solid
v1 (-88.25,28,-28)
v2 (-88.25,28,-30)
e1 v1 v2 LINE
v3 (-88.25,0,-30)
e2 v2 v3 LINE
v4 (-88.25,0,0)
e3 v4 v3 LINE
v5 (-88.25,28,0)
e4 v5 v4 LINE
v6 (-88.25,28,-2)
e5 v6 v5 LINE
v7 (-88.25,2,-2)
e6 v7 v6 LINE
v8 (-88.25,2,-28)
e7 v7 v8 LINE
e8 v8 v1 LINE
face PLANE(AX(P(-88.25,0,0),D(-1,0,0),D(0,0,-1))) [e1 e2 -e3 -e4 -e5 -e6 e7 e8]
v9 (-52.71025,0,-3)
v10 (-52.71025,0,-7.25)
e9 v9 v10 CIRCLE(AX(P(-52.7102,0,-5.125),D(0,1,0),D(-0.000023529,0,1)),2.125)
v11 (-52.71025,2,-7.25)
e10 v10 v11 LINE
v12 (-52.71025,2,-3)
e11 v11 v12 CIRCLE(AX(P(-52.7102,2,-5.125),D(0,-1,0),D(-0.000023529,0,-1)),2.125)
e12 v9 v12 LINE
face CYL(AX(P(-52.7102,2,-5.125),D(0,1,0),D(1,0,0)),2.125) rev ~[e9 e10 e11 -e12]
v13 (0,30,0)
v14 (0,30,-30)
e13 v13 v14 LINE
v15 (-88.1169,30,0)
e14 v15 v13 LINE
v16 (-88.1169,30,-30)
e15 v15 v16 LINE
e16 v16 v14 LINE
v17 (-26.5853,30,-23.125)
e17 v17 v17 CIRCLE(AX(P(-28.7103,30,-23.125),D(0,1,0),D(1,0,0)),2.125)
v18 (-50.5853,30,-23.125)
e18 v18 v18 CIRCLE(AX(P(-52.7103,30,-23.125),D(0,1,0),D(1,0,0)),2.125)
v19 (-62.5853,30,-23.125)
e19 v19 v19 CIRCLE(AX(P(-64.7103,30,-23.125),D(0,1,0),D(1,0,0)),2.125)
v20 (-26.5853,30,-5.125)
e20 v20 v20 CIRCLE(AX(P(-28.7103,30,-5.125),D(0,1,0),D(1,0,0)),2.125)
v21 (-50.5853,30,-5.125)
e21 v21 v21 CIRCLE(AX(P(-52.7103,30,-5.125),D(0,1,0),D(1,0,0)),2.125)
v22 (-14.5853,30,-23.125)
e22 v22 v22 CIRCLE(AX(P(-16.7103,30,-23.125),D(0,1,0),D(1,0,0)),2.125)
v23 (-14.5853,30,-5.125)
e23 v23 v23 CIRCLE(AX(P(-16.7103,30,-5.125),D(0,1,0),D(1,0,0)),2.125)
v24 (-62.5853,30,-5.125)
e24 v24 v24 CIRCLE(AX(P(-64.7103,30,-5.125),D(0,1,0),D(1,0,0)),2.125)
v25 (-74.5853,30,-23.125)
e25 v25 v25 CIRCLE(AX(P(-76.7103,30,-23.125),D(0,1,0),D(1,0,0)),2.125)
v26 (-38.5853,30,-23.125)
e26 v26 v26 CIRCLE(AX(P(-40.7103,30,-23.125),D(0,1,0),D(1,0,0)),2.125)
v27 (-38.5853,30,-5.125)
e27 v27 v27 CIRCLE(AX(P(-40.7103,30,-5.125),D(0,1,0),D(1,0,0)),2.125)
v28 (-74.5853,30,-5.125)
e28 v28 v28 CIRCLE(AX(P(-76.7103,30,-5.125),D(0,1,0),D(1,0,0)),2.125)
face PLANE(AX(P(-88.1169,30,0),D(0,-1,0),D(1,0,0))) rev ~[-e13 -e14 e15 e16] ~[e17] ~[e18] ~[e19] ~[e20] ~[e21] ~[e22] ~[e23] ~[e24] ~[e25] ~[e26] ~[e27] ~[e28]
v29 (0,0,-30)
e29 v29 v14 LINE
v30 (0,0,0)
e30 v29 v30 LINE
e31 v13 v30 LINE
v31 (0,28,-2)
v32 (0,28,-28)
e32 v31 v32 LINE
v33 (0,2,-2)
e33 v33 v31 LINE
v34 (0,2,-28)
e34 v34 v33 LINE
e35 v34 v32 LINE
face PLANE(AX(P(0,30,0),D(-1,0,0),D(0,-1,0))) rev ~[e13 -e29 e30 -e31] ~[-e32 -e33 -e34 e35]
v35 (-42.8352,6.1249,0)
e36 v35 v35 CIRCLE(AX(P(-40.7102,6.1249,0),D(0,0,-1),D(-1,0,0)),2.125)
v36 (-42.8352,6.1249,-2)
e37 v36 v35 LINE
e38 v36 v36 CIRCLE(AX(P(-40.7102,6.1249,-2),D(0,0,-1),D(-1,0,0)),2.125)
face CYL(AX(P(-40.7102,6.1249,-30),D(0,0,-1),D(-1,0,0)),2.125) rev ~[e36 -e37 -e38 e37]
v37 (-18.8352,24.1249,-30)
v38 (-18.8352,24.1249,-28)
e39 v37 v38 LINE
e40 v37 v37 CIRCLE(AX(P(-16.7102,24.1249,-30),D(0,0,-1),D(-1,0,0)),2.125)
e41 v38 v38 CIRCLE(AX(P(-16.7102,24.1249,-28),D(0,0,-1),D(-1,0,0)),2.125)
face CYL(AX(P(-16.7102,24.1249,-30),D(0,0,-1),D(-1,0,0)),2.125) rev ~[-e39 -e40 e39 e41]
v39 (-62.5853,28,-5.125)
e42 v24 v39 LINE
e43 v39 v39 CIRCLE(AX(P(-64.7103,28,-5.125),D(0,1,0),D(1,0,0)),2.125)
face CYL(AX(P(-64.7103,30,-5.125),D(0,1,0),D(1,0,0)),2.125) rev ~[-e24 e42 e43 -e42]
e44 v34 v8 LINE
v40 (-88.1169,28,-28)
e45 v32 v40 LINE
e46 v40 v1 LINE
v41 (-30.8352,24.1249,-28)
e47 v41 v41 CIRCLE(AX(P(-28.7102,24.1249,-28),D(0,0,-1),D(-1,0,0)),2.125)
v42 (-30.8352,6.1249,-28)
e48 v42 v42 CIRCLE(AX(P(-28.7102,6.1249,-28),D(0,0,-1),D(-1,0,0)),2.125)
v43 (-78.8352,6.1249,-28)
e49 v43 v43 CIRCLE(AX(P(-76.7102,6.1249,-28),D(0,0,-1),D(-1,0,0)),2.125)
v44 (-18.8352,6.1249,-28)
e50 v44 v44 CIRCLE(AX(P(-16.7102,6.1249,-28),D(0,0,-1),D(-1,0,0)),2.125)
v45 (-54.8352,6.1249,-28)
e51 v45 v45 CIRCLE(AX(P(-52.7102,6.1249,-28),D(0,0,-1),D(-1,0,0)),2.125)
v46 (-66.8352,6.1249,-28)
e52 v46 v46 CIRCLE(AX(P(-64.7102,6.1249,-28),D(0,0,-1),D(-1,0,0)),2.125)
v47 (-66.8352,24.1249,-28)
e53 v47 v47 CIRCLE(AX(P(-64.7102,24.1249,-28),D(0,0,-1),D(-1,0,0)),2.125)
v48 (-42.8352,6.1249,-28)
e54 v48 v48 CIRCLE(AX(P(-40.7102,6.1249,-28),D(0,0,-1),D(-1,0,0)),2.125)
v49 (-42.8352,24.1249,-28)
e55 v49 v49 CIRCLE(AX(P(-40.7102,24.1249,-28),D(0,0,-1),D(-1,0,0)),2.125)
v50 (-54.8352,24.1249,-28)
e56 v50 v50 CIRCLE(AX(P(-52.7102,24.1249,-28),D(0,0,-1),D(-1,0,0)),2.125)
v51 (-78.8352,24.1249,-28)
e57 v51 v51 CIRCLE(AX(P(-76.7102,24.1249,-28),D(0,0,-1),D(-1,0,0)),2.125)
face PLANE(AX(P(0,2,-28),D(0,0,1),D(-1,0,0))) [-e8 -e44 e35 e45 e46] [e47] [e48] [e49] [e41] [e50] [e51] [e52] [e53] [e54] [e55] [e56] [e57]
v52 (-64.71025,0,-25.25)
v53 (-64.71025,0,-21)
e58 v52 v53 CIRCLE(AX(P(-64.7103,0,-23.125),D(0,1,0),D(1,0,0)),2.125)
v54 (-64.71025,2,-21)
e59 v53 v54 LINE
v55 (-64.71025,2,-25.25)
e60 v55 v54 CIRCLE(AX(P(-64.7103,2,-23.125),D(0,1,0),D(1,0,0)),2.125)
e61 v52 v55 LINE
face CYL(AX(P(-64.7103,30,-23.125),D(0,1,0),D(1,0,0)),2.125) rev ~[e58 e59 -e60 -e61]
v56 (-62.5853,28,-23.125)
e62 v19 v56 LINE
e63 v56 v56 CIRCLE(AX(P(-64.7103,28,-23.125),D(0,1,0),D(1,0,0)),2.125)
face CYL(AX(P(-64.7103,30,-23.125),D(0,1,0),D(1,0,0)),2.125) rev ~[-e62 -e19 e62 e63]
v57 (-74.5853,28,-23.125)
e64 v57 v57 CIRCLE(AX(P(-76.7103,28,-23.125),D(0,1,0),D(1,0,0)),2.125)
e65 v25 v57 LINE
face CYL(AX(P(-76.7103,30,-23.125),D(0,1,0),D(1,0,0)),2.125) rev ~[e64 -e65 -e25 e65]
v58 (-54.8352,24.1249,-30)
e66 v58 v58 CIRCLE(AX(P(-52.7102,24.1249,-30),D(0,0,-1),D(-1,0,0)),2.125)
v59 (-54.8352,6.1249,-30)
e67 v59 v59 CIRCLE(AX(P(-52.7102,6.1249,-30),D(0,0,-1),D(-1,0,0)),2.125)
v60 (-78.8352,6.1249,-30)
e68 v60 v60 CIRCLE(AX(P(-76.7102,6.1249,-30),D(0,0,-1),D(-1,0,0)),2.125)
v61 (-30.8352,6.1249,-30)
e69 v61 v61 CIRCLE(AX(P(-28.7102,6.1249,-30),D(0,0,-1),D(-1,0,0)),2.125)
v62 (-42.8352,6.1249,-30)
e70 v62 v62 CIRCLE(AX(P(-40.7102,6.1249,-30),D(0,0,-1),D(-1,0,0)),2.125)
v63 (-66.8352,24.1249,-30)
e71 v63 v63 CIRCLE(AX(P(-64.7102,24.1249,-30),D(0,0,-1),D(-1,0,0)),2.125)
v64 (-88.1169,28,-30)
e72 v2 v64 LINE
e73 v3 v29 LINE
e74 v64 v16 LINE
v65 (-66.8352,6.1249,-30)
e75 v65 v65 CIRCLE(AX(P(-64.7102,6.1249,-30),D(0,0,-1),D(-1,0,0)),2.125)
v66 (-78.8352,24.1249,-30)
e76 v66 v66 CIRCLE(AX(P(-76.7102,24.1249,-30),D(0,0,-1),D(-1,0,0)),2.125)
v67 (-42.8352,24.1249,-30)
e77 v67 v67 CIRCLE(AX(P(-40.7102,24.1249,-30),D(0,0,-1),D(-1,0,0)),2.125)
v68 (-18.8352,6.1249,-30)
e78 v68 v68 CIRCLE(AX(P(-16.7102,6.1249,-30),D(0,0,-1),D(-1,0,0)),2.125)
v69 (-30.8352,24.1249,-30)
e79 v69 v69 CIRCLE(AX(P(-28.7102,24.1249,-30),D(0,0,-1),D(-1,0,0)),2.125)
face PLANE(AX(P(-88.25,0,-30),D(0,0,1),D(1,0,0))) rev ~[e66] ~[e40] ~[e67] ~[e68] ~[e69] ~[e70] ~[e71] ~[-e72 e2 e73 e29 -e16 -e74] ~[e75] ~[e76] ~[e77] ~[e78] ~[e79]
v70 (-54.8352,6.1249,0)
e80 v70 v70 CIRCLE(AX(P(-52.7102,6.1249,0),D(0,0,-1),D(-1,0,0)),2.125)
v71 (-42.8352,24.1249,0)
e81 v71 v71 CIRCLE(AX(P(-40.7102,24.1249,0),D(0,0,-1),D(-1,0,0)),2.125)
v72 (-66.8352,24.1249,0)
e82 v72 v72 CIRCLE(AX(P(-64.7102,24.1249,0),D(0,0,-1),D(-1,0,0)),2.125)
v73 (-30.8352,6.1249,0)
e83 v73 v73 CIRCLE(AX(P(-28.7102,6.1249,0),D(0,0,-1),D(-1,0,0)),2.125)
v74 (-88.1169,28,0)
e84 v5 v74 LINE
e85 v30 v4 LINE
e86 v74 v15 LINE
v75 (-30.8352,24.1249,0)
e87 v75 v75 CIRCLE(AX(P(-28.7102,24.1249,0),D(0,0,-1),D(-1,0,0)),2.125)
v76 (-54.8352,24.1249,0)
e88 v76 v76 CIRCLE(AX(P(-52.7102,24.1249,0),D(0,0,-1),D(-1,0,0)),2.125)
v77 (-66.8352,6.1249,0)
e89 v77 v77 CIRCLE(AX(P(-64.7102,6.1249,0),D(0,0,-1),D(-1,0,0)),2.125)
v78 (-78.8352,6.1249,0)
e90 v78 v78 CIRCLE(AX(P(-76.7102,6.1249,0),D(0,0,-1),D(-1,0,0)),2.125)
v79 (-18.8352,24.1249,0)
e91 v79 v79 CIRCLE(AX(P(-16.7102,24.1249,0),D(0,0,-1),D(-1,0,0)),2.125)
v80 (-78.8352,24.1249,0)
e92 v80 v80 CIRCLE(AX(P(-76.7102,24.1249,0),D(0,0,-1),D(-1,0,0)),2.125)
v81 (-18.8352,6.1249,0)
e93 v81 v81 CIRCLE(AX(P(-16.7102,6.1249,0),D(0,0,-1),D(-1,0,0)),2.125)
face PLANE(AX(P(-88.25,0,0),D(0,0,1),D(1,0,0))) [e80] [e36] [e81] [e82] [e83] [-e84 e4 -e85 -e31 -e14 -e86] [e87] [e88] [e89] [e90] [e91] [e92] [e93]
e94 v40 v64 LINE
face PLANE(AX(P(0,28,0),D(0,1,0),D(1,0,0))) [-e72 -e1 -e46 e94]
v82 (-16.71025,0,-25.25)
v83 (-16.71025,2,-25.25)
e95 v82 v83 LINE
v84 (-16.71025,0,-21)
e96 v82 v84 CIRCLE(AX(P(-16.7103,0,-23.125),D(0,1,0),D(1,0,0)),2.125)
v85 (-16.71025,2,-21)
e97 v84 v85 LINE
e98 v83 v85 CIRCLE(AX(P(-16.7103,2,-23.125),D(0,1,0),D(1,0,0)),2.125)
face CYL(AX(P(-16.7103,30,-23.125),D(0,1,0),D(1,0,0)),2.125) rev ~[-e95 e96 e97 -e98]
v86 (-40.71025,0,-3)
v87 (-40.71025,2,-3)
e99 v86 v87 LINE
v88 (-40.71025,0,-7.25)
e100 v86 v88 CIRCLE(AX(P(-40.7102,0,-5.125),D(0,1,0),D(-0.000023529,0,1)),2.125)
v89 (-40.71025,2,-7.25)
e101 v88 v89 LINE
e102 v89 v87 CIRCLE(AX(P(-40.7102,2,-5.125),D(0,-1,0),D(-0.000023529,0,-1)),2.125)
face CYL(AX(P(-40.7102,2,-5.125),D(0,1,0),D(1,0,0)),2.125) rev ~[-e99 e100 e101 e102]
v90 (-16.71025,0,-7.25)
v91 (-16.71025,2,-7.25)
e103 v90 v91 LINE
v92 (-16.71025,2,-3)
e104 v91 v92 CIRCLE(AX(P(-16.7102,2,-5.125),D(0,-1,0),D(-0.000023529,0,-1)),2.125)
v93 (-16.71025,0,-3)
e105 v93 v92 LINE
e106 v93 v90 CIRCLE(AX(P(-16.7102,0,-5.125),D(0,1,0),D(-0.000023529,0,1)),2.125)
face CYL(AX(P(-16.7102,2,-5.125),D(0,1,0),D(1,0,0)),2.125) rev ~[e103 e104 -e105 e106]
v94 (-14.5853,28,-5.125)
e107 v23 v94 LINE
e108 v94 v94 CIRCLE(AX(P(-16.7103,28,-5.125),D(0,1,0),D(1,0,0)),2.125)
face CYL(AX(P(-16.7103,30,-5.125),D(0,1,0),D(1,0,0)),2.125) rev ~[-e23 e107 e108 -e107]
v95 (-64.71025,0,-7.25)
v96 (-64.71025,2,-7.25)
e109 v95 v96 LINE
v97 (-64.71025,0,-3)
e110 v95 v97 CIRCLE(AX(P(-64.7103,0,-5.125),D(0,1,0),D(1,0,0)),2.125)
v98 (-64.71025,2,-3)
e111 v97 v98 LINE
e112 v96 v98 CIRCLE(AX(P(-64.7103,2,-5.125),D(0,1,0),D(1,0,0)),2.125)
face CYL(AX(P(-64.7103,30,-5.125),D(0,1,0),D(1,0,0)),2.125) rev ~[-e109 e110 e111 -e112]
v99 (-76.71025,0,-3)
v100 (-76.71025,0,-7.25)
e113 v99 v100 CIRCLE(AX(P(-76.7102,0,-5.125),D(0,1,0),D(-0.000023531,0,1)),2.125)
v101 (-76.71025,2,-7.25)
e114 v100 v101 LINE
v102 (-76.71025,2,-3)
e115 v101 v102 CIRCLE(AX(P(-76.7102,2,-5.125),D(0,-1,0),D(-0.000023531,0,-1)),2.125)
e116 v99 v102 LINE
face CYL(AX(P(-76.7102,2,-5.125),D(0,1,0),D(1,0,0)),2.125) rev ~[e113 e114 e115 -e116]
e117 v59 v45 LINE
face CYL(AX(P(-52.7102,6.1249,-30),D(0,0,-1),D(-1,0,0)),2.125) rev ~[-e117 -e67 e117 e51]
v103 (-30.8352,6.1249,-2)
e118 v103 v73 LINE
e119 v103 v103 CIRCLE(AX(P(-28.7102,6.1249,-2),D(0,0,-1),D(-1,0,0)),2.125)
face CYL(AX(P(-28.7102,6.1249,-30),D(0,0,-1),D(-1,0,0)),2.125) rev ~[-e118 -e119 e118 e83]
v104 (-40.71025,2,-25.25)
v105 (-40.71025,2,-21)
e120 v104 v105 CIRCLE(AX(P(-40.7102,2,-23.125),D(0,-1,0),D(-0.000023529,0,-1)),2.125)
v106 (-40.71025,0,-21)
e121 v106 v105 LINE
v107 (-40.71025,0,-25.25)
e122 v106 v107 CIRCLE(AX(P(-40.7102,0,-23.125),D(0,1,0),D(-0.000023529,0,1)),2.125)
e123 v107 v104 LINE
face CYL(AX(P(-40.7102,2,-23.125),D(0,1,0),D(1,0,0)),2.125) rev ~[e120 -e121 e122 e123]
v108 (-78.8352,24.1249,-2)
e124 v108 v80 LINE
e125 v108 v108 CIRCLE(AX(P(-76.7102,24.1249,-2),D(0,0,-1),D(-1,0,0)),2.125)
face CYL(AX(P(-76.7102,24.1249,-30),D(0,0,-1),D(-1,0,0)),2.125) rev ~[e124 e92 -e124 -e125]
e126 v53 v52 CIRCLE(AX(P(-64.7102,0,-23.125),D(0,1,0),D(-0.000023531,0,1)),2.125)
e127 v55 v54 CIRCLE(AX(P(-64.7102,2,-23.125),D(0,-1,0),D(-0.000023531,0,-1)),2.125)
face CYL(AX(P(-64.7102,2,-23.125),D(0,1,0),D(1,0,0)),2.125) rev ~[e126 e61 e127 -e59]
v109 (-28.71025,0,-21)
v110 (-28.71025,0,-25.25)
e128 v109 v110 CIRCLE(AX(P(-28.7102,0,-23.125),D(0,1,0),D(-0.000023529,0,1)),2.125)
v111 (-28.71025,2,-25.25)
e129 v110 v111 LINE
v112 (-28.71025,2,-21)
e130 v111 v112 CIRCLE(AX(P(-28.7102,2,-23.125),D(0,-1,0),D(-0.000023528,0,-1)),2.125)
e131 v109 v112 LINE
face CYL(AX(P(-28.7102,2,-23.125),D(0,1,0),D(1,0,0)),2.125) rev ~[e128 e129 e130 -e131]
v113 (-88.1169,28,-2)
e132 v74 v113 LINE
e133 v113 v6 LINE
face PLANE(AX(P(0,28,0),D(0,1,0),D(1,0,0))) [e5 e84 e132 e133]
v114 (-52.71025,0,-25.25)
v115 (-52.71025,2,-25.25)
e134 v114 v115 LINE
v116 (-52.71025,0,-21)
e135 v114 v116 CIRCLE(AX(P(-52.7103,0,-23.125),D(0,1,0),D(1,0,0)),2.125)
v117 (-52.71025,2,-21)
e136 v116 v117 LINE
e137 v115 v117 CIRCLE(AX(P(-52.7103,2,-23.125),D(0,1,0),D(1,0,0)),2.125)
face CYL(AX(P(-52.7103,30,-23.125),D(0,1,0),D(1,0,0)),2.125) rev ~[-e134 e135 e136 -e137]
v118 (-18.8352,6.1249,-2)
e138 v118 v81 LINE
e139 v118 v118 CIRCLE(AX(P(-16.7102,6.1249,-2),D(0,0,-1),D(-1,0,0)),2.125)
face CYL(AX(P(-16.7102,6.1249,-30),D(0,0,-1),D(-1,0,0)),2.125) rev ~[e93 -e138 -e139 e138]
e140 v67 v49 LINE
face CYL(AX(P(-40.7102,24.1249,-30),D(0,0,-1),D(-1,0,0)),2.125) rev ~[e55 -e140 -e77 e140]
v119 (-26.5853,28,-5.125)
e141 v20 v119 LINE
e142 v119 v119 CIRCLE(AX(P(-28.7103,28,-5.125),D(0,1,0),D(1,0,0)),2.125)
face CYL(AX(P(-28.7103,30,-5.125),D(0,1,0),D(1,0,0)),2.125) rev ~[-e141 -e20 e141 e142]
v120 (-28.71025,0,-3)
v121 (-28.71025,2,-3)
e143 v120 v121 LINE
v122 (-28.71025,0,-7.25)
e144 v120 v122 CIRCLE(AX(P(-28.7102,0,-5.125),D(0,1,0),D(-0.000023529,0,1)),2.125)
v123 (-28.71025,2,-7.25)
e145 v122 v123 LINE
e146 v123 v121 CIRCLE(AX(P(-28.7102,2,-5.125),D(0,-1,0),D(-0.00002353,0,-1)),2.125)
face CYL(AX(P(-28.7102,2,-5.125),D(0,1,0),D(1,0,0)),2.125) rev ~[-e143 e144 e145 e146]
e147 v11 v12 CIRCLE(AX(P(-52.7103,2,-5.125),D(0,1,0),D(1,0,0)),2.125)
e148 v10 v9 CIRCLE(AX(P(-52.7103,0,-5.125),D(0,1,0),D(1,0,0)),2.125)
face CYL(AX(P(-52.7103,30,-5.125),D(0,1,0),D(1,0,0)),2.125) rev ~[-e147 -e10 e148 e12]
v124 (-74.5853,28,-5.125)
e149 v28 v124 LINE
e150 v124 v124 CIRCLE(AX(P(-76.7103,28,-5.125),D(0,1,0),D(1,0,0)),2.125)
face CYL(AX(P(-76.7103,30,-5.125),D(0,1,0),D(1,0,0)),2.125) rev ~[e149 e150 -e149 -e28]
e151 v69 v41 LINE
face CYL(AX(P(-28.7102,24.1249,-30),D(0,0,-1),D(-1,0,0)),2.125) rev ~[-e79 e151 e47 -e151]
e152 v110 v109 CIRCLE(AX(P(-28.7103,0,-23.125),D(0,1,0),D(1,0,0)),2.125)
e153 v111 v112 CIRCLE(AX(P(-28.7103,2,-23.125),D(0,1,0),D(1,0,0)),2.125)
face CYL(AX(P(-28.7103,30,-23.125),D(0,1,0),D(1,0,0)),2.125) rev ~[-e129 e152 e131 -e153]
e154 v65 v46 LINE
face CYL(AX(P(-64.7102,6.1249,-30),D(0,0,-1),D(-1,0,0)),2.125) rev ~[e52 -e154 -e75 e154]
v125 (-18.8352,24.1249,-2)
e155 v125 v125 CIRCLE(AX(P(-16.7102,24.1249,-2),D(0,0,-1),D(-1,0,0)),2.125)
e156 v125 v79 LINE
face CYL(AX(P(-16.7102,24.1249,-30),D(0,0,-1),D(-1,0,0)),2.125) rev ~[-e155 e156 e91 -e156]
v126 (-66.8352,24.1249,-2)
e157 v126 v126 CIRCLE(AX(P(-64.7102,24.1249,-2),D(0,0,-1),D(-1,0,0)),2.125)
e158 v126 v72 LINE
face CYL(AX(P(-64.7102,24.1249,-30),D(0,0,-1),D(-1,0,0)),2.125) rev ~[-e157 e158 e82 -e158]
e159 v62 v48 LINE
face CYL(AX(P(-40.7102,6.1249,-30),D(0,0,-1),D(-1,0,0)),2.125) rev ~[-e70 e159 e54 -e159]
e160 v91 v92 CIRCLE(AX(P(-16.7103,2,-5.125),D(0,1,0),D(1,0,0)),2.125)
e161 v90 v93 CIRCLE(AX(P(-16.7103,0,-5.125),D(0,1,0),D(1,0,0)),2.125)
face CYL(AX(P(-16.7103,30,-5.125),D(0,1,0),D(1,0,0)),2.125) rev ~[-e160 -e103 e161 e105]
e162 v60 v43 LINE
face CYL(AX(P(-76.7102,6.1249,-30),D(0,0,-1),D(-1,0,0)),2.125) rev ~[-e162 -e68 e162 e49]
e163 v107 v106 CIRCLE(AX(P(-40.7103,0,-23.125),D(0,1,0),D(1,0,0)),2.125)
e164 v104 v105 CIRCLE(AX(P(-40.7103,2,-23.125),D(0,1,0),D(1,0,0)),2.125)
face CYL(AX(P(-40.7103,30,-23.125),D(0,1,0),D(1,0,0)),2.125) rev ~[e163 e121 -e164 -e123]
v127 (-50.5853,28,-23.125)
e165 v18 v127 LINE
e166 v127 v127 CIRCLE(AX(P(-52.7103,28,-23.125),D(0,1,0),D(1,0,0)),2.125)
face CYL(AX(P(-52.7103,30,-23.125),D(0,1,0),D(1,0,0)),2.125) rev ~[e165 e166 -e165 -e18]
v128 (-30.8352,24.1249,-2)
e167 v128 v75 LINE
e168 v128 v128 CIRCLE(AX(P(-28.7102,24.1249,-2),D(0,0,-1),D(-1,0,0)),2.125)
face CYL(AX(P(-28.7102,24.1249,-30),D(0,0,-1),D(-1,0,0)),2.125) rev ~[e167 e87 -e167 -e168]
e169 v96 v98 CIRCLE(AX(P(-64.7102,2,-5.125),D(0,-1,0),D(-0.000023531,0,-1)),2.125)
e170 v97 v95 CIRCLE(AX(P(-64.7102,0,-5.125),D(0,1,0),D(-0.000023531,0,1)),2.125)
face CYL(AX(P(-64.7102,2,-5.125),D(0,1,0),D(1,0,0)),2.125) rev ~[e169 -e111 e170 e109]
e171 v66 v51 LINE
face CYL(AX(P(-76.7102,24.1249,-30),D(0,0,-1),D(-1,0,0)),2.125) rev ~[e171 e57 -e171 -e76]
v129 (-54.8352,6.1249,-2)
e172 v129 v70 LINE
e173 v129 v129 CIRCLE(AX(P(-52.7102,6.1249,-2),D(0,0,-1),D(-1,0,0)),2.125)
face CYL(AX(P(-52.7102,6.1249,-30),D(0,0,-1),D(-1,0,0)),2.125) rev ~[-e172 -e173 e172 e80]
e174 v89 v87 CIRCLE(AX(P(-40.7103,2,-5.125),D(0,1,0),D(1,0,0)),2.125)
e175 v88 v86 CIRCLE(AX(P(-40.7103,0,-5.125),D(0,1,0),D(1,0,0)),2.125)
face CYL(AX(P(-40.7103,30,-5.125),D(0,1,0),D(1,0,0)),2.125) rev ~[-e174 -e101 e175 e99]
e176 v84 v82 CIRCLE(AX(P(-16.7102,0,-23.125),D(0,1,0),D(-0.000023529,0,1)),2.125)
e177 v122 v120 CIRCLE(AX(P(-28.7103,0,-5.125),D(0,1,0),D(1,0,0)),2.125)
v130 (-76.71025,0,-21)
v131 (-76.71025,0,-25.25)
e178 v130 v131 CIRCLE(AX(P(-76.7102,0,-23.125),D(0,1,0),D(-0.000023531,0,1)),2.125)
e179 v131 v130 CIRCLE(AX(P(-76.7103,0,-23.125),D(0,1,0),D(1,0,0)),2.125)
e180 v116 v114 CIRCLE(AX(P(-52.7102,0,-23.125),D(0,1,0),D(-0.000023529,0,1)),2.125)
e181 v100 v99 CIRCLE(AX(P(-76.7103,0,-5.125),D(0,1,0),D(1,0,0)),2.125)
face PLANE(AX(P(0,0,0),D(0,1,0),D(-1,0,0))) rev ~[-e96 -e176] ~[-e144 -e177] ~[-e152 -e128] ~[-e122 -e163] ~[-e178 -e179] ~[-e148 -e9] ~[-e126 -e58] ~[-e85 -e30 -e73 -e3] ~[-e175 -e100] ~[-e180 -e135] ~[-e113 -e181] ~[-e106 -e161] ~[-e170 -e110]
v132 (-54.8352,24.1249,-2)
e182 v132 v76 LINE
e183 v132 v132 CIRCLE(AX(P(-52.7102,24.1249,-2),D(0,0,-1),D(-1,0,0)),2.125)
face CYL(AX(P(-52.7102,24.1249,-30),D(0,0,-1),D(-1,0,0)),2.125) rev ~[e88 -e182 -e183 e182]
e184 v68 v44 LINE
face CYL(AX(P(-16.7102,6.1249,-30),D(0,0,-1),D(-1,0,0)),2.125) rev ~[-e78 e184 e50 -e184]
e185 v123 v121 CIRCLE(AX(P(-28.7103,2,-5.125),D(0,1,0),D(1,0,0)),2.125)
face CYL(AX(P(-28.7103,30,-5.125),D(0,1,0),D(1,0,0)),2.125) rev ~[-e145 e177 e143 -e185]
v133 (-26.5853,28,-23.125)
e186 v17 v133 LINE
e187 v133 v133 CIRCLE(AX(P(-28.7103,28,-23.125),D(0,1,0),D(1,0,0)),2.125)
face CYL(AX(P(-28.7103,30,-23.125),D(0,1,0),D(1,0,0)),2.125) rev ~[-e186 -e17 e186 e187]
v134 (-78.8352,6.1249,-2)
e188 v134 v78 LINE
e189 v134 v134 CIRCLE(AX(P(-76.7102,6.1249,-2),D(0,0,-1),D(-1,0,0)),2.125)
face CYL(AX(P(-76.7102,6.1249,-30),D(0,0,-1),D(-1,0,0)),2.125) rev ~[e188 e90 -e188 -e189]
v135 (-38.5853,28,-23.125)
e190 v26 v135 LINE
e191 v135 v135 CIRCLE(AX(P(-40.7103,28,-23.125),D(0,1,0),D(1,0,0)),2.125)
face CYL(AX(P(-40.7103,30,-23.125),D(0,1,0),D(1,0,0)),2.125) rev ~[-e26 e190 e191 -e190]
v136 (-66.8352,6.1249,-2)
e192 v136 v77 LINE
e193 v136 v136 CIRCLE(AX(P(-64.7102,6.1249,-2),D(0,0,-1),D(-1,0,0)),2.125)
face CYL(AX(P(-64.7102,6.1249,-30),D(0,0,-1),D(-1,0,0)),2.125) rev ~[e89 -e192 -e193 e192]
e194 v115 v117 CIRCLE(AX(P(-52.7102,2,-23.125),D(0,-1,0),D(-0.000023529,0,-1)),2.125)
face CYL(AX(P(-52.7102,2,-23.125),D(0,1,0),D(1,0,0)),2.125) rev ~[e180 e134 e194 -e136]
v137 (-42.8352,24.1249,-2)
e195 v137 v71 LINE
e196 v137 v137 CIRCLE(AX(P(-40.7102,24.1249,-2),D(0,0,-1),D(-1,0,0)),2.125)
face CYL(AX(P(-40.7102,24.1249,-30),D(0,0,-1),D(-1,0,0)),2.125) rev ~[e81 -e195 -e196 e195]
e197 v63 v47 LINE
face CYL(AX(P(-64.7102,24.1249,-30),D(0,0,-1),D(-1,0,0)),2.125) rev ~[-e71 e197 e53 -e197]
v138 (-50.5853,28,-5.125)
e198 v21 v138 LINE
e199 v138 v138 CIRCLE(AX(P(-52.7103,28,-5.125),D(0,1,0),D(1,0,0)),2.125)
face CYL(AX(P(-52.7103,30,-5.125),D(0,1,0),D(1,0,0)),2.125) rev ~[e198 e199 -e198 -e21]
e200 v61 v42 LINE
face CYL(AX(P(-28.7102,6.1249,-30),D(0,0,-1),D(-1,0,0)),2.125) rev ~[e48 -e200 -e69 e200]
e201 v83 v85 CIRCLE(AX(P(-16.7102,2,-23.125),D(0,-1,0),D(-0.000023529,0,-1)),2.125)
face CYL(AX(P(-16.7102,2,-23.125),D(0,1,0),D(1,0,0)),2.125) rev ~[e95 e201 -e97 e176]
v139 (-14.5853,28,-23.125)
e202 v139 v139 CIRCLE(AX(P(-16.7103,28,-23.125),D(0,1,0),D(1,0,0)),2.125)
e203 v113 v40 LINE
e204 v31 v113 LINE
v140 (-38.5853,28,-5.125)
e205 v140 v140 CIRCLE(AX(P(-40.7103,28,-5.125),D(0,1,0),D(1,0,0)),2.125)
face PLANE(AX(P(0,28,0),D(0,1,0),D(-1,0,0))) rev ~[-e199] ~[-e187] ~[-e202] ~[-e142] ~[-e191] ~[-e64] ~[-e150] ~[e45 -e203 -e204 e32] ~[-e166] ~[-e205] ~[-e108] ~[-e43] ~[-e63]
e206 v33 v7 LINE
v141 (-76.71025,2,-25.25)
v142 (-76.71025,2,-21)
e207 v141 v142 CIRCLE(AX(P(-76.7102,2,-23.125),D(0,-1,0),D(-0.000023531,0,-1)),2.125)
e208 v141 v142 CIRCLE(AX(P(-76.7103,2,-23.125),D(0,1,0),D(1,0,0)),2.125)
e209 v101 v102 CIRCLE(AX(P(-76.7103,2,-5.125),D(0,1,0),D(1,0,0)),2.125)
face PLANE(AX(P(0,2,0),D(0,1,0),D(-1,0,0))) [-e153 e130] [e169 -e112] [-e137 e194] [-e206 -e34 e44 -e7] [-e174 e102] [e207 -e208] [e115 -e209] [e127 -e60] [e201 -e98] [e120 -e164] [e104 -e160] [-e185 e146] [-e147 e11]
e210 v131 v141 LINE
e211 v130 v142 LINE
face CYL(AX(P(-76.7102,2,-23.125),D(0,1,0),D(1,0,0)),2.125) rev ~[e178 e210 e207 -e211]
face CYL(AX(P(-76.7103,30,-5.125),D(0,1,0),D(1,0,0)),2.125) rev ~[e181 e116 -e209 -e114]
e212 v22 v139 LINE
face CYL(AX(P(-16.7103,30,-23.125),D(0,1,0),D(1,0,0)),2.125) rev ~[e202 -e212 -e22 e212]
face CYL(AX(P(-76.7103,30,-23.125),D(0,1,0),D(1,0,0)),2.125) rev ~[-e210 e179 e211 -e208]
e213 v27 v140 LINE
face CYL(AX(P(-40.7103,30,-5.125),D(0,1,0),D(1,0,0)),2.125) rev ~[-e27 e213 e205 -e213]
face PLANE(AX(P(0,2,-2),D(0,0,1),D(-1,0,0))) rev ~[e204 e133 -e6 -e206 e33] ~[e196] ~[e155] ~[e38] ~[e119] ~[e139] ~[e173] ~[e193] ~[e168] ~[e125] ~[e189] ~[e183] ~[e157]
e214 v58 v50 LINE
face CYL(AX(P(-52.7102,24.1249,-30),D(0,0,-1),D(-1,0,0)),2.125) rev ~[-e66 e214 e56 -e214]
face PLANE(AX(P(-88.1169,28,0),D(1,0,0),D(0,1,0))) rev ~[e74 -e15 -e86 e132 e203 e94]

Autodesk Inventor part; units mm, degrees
ref_plane "YZ Plane" through (0, 0, 0) normal (1, 0, 0) x (0, 1, 0)
ref_plane "XZ Plane" through (0, 0, 0) normal (0, 1, 0) x (-1, 0, 0)
ref_plane "XY Plane" through (0, 0, 0) normal (0, 0, 1) x (1, 0, 0)
sketch "Sketch1" plane through (0, 0, 0) normal (0, 1, 0) x (-1, 0, 0)
  line L0 (0, 0) -> (88.25, 0)
  line L1 (88.25, 0) -> (88.25, -30)
  line L2 (88.25, -30) -> (0, -30)
  line L3 (0, -30) -> (0, 0)
  dimension "d0" = 88.25
  dimension "d1" = 30
extrude "Extrusion1" add sketch "Sketch1" along normal blind 2
sketch "Sketch2" plane through (0, 2, 0) normal (0, 1, 0) x (1, 0, 0)
  line L0 (-11.2333, 0) -> (-11.2333, 30)
  line L1 (0, 30) -> (-88.25, 30) projected
  line L2 (-16.7102, 0) -> (-16.7102, 3)
  line L3 (-16.7102, 30) -> (-16.7102, 27)
  line L4 (-16.7102, 3) -> (-16.7102, 5.125)
  circle A0 centre (-16.7102, 5.125) radius 2.125
  line L5 (-16.7102, 15) -> (-76.7102, 15)
  line L6 (-76.7102, 27) -> (-84.8352, 27)
  line L7 (-16.7102, 22.536) -> (-8.5852, 22.536)
  line L8 (-84.8352, 30) -> (-88.25, 30)
  line L9 (-88.25, 30) -> (-88.25, 0)
  line L10 (-88.25, 0) -> (-84.8352, 0)
  line L11 (-84.8352, 0) -> (-84.8352, 30)
  line L12 (-8.5852, 0) -> (0, 0)
  line L13 (0, 0) -> (0, 30)
  line L14 (0, 30) -> (-8.5852, 30)
  line L15 (-8.5852, 30) -> (-8.5852, 0)
  dimension "d4" = 3
  dimension "d5" = 3
  dimension "d6" = 30
  dimension "d7" = 2.125
  dimension "d8" = 4.25
  dimension "d9" = 60
  dimension "d12" = 8.125
  dimension "d13" = 8.125
extrude "Extrusion2" cut sketch "Sketch2" against normal through all contours A0
pattern_linear "Rectangular Pattern1" count 6 spacing 12 along (-1, 0, 0) count 2 spacing 18 along (0, 0, -1) of "Extrusion2"
sketch "Sketch3" plane through (0, 2, 0) normal (0, 1, 0) x (1, 0, 0)
  line L0 (0, 30) -> (0, 0) projected
  line L1 (-88.25, 0) -> (0, 0)
  line L2 (0, 0) -> (0, 2)
  line L3 (0, 2) -> (-88.25, 2)
  line L4 (-88.25, 2) -> (-88.25, 0)
  line L5 (0, 0) -> (0, 30) projected
  line L6 (-88.25, 30) -> (0, 30)
  line L7 (0, 30) -> (0, 28)
  line L8 (0, 28) -> (-88.25, 28)
  line L9 (-88.25, 28) -> (-88.25, 30)
  dimension "d22" = 2
  dimension "d23" = 2
extrude "Extrusion3" add sketch "Sketch3" along normal blind 26
sketch "Sketch4" plane through (-88.25, 0, 0) normal (0, 0, 1) x (1, 0, 0)
  line L0 (88.25, 28) -> (0.1331, 28)
  line L1 (0.1331, 28) -> (0.1331, 30)
  line L2 (0.1331, 30) -> (88.25, 30)
  line L3 (88.25, 30) -> (88.25, 28)
  point P0 (88.25, 0)
  dimension "d26" = 2
extrude "Extrusion4" add sketch "Sketch4" against normal blind 30
sketch "Sketch5" plane through (-88.1169, 30, 0) normal (0, 1, 0) x (1, 0, 0)
  circle A0 centre (71.4066, 5.125) radius 2.125 projected
  circle A1 centre (71.4066, 5.125) radius 2.125
  point P0 (88.1169, 0)
extrude "Extrusion5" cut sketch "Sketch5" against normal through all
pattern_linear "Rectangular Pattern2" count 6 spacing 12 along (-1, 0, 0) count 2 spacing 18 along (0, 0, -1) of "Extrusion5"
sketch "Sketch6" plane through (0, 0, -30) normal (0, 0, -1) x (-1, 0, 0)
  line L0 (18.8352, 0) -> (14.5852, 0) projected
  circle A0 centre (16.7102, 6.1249) radius 2.125
  point P0 (0, 0)
  dimension "d37" = 4.25
extrude "Extrusion6" cut sketch "Sketch6" against normal through all
pattern_linear "Rectangular Pattern3" count 6 spacing 12 along (-1, 0, 0) count 2 spacing 18 along (0, 1, 0) of "Extrusion6"
equation "\"d38\" = d37"
properties part number "BatHoldV2"
